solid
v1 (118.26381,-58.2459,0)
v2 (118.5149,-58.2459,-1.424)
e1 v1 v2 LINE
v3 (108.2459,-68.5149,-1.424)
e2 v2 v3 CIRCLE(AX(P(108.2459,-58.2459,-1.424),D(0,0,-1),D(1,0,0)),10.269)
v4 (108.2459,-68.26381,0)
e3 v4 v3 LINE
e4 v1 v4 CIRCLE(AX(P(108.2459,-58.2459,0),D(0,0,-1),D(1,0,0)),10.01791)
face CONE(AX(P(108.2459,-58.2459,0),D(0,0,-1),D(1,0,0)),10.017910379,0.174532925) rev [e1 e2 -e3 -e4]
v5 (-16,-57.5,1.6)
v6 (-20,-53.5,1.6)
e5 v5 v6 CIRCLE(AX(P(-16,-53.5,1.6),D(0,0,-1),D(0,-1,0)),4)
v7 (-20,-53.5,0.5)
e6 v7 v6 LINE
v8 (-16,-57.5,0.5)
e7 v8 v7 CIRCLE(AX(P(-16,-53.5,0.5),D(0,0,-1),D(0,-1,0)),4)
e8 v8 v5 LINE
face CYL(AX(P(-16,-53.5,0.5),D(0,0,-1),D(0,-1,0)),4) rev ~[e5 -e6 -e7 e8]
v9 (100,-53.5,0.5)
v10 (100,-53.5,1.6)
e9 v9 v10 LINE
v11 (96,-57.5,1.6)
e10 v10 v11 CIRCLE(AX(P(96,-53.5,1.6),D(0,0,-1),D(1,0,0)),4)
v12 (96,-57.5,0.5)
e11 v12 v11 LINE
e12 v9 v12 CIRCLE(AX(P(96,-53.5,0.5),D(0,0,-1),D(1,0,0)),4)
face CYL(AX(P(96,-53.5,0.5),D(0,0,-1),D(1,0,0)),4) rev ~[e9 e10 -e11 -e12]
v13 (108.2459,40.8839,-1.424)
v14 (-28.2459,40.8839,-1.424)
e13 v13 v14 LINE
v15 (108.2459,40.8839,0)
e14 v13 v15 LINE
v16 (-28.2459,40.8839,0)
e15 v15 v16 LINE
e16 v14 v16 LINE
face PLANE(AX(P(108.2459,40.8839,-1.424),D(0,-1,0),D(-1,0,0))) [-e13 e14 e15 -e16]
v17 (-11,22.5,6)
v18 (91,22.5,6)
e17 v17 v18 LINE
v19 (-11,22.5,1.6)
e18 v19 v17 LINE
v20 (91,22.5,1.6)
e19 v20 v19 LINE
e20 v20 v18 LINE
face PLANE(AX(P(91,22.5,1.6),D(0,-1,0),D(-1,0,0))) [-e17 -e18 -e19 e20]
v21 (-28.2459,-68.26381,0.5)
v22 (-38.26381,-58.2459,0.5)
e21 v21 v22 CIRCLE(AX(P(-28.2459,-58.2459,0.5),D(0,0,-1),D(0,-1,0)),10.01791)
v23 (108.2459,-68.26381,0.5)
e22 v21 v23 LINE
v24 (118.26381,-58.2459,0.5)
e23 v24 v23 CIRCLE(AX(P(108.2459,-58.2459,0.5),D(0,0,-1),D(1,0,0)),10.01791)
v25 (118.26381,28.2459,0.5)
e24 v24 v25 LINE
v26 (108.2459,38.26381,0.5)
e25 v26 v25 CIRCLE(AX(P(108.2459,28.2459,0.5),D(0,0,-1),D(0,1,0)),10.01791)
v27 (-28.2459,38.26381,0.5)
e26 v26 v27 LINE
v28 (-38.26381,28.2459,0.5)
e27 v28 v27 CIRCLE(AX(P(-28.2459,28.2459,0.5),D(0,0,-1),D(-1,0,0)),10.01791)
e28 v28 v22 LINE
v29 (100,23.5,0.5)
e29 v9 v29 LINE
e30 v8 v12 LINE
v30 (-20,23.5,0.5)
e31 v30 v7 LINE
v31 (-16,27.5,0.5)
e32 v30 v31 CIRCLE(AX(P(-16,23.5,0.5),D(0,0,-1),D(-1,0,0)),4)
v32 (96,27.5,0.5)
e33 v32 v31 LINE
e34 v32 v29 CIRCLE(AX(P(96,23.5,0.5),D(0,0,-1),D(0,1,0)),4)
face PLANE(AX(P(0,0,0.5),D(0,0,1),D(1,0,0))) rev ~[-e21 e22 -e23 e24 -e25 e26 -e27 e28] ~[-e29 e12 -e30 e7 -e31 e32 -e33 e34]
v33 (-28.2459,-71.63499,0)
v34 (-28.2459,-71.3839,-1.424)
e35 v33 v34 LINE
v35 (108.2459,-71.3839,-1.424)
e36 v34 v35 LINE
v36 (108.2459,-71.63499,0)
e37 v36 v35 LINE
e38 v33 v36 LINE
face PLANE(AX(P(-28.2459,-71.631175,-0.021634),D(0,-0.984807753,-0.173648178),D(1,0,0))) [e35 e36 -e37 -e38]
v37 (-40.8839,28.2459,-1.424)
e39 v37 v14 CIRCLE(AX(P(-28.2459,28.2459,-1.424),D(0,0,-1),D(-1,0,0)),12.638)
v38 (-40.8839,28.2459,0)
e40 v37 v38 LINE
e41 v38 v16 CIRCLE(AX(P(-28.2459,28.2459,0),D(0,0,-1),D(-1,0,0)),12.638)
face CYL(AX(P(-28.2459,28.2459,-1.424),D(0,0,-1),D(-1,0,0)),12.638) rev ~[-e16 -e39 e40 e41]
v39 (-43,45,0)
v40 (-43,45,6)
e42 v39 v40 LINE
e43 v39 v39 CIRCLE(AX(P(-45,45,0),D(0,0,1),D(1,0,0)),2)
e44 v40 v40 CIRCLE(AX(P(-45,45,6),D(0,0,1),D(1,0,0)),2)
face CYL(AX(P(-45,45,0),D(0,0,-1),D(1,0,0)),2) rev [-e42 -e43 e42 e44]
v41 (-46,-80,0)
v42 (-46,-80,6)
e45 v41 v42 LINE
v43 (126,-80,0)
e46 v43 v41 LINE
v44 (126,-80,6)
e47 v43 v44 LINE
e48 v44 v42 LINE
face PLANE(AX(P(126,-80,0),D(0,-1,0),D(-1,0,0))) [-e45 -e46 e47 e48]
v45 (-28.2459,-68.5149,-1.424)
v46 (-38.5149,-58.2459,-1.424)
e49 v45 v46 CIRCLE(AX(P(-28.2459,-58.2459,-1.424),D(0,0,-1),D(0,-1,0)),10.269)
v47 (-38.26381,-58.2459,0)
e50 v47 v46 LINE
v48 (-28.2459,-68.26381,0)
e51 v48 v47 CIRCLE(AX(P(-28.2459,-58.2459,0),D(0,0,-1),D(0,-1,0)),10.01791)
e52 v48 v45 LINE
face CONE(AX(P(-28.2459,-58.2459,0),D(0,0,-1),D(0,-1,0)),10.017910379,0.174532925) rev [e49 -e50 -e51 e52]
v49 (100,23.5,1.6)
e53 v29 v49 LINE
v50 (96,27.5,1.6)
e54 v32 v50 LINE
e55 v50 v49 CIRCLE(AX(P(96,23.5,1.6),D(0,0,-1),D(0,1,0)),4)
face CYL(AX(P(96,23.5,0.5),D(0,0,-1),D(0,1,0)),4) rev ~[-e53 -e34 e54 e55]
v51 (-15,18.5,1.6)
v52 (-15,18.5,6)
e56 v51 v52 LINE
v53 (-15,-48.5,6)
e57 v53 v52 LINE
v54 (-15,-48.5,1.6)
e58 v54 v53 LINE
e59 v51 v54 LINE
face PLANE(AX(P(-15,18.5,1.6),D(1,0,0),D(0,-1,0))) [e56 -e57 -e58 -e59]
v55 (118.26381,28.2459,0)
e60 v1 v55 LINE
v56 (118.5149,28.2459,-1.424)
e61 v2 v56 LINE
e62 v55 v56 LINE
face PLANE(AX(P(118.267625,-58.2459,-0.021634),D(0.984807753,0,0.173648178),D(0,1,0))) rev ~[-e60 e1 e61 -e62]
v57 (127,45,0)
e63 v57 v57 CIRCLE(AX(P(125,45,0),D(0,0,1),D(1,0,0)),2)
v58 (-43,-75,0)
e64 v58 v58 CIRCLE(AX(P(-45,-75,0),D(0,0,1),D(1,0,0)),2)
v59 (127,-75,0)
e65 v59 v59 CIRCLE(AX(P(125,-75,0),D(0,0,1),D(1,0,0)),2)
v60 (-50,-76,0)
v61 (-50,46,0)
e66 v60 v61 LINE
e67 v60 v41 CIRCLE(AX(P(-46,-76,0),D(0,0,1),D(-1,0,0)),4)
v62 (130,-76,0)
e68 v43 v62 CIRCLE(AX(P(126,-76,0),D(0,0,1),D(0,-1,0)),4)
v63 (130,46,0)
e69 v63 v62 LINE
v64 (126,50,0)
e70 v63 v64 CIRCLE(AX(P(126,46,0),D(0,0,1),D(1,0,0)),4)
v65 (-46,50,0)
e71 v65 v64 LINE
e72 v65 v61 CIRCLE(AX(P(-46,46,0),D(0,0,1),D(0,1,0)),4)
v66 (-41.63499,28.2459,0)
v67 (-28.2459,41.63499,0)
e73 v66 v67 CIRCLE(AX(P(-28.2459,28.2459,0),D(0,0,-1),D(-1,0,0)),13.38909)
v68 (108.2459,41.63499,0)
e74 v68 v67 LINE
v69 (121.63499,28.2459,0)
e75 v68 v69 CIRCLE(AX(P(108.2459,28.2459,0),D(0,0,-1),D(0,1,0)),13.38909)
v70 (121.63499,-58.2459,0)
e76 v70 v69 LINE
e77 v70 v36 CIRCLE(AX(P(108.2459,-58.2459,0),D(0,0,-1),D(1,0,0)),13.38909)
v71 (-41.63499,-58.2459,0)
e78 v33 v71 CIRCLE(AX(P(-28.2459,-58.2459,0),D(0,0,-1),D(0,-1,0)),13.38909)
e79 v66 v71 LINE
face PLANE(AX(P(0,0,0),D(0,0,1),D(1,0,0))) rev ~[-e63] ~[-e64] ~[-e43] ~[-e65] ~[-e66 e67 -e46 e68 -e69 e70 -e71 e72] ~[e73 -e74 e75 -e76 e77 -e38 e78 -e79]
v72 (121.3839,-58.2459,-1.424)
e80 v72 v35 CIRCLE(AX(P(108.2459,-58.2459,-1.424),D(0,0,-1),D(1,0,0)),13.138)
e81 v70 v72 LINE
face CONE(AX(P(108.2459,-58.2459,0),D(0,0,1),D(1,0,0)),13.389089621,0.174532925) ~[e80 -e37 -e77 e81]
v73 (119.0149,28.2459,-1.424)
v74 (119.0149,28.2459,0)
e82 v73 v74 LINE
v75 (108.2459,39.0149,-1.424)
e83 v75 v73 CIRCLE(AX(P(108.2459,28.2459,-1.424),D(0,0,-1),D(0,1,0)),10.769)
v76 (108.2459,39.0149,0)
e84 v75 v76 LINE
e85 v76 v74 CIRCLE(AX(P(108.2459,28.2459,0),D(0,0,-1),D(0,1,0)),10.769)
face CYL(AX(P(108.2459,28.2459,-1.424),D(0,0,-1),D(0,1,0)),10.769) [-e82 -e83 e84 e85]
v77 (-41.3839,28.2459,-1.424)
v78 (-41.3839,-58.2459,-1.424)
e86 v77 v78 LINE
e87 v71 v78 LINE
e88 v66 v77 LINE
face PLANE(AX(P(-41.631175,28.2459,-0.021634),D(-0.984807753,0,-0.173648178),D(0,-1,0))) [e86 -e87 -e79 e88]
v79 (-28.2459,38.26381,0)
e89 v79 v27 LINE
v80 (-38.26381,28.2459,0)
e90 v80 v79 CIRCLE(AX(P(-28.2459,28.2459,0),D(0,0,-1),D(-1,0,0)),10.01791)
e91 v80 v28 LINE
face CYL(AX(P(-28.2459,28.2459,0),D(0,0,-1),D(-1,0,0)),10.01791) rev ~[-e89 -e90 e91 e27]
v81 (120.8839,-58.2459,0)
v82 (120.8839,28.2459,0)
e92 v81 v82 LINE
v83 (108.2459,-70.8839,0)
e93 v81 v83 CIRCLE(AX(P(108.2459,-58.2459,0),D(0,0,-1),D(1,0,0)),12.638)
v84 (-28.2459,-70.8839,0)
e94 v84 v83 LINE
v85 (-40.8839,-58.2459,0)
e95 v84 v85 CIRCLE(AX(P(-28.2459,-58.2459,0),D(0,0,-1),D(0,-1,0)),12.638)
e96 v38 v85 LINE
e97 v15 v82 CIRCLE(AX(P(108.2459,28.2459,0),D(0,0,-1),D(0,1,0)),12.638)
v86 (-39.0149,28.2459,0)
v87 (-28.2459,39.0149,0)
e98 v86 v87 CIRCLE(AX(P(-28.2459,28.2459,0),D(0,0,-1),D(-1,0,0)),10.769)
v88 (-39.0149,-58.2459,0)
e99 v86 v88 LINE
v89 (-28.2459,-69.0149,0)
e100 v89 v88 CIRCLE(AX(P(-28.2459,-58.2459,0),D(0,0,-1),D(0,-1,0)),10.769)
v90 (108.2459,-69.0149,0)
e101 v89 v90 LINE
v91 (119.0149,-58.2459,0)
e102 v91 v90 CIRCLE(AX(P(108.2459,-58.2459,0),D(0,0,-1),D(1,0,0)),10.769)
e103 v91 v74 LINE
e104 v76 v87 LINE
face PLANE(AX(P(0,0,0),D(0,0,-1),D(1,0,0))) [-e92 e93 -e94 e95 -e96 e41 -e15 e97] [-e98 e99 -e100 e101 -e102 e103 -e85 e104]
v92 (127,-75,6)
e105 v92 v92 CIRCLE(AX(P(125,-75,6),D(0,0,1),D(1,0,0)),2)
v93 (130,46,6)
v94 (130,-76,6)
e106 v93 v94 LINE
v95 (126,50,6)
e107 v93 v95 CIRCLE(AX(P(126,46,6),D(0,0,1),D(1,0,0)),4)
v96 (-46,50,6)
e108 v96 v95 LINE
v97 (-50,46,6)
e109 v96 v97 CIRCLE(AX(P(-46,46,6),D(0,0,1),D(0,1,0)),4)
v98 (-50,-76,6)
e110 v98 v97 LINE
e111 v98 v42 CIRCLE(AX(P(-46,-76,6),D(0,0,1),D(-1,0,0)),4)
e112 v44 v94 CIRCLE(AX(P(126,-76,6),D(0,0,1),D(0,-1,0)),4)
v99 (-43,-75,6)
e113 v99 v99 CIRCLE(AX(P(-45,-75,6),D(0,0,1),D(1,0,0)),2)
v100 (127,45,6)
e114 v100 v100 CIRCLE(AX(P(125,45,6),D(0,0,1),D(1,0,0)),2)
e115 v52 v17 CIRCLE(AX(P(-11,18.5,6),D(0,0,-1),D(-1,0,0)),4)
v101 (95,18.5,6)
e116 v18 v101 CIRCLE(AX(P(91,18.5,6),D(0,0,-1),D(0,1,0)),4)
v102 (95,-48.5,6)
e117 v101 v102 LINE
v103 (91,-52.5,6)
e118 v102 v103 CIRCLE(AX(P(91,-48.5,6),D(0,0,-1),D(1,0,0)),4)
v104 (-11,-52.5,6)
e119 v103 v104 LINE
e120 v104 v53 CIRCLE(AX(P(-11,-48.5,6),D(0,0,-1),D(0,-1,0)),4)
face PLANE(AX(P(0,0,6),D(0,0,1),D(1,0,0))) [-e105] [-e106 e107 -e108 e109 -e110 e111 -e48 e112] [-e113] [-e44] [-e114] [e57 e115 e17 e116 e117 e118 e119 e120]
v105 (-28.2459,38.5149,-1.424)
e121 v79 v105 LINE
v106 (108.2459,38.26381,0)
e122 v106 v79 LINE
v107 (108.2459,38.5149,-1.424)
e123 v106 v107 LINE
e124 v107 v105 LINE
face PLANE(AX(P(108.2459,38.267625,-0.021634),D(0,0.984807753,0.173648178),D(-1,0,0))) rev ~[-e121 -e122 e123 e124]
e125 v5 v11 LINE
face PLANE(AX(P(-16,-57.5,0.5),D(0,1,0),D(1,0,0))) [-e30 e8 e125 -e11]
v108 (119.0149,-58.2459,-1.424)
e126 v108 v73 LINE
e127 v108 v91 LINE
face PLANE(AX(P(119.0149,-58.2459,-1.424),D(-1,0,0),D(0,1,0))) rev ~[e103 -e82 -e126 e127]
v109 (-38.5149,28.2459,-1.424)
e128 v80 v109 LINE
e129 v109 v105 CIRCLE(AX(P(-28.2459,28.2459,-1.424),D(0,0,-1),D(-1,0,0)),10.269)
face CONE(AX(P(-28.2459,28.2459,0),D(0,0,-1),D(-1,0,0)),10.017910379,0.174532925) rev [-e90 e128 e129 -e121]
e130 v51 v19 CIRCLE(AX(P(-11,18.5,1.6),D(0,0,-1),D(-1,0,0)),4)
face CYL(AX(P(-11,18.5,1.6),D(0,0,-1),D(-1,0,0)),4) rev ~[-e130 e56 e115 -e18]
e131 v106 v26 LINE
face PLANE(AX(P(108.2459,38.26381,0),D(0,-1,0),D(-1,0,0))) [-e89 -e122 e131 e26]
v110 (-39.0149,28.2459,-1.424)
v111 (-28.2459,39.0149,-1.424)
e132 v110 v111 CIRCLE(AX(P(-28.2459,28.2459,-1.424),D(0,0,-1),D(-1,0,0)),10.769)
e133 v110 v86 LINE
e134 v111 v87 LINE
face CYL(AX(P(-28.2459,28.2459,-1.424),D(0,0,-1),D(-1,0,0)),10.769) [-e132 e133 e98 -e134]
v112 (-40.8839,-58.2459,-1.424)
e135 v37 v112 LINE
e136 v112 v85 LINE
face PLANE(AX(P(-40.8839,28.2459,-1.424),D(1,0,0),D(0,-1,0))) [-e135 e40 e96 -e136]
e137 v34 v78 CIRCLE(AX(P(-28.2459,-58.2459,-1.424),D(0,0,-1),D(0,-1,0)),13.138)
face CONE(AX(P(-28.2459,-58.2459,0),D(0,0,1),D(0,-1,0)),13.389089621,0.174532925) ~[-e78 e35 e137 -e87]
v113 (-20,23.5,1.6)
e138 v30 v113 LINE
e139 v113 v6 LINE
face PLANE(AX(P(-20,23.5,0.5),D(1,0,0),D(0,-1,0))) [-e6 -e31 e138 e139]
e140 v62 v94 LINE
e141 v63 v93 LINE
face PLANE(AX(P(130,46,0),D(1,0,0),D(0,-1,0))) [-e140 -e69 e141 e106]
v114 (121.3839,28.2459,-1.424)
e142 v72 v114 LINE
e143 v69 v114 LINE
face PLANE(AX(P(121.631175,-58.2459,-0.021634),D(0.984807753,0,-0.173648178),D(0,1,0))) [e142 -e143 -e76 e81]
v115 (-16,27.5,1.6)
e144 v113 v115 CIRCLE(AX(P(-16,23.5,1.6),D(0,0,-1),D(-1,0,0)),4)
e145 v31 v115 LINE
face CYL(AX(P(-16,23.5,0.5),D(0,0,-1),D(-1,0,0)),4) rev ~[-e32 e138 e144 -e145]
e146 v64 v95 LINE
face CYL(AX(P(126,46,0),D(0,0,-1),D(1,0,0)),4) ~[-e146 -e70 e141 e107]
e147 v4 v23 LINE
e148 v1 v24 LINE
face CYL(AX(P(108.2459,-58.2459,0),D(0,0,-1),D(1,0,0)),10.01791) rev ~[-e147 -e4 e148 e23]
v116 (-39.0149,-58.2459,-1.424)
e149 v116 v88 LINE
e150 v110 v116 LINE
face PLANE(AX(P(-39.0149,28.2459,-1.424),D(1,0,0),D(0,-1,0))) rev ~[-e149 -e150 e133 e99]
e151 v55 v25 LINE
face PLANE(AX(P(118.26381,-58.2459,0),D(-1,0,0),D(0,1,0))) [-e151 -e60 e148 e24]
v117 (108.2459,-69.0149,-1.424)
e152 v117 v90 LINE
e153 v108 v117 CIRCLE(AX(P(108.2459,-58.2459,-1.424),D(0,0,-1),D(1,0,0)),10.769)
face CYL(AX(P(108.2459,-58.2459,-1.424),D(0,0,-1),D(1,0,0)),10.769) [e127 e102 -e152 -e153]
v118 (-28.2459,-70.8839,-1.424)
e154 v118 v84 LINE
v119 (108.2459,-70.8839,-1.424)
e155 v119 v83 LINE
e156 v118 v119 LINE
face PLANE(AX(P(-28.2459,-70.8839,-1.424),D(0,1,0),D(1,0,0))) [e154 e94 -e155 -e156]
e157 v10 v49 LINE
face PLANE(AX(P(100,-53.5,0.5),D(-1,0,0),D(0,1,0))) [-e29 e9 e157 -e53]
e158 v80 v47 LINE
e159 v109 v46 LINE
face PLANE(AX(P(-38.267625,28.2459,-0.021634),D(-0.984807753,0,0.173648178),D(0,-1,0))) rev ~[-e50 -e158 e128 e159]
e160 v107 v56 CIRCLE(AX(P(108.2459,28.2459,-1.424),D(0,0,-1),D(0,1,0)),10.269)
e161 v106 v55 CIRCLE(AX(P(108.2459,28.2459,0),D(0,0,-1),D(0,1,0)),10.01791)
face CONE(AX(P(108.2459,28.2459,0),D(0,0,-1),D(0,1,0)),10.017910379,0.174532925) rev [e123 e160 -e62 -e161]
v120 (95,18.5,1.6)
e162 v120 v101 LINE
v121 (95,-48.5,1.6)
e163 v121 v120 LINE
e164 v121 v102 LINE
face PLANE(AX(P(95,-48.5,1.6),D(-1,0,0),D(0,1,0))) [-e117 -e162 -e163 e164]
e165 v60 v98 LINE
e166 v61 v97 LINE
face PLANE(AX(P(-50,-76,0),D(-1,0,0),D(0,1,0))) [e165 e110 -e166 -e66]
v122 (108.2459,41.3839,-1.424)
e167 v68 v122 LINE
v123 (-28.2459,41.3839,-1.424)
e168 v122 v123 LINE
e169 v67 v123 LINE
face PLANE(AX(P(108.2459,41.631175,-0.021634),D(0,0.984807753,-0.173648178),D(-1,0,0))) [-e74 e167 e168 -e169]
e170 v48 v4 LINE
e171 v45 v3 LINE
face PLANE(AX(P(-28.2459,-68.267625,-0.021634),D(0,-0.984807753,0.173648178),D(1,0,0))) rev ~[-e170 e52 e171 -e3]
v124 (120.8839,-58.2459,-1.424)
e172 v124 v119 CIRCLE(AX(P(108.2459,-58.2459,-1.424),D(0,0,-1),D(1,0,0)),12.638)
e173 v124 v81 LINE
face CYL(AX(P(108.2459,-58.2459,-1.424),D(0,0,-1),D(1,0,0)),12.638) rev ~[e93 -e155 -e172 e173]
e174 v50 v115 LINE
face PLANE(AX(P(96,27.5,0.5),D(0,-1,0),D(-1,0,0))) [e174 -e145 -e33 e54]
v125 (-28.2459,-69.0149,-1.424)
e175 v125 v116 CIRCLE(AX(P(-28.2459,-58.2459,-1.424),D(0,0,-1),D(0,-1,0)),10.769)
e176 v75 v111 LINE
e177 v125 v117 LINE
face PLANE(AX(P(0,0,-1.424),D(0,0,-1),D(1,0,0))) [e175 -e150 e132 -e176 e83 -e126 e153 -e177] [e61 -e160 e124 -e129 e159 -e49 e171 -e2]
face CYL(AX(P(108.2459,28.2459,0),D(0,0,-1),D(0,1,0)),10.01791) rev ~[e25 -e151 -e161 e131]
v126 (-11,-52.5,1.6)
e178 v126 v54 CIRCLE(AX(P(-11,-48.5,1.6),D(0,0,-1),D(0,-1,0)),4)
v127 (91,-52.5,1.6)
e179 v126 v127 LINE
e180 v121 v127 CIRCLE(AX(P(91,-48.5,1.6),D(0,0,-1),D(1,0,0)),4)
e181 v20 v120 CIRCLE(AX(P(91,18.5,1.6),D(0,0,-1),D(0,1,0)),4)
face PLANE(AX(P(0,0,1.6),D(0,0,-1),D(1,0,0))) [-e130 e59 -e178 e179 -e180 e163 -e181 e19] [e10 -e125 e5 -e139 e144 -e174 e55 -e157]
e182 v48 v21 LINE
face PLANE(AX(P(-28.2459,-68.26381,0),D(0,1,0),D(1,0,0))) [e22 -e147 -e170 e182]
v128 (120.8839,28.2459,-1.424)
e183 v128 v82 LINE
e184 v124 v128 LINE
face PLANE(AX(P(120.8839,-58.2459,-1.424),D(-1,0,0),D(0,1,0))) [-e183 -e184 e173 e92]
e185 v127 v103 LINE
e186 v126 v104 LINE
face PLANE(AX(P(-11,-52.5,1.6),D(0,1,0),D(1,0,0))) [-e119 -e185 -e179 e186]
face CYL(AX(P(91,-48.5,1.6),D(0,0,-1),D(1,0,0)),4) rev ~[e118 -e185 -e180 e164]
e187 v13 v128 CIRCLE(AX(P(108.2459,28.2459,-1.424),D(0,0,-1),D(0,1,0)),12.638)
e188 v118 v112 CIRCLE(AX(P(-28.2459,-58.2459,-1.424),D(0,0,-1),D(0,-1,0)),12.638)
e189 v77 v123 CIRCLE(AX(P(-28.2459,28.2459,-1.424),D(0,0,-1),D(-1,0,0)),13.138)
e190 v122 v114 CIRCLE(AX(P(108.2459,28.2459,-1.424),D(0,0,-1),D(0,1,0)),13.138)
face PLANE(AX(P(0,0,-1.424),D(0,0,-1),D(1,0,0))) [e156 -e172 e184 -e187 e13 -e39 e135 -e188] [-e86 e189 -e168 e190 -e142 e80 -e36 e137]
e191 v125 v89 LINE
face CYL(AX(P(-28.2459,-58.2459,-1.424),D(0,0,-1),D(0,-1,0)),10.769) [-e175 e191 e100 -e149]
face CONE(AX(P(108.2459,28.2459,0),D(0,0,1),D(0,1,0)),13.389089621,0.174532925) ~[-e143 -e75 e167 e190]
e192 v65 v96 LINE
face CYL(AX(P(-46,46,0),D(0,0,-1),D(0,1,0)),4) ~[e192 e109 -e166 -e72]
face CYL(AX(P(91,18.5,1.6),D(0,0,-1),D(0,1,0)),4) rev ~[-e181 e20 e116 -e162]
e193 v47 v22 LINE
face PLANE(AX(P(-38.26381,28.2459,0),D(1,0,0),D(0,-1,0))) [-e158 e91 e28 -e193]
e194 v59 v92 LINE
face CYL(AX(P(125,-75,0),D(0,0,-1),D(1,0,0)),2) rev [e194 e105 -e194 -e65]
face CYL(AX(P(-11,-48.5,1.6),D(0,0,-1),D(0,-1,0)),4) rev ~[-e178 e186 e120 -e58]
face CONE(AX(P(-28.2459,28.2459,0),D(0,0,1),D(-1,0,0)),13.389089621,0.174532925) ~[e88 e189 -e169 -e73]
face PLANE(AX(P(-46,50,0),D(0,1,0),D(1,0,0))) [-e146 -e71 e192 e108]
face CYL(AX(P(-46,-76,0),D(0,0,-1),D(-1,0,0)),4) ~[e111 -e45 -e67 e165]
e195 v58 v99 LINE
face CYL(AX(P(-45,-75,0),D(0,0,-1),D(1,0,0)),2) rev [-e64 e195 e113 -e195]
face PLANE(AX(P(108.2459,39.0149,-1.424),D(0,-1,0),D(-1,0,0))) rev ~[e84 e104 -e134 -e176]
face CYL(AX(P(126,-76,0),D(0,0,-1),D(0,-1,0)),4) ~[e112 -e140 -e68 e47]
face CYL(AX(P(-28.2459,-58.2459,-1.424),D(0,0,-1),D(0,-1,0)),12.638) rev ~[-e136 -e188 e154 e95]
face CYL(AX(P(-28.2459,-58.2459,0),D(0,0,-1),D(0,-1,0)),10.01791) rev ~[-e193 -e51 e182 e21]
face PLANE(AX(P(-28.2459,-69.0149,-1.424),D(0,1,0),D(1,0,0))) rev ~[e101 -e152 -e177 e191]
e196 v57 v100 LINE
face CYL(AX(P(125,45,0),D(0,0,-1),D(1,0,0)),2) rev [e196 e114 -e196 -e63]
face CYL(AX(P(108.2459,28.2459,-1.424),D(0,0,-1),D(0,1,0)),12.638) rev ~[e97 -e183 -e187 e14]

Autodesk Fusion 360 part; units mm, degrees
sketch "Sketch2" plane through (0, 0, 0) normal (0, 0, 1) x (1, 0, 0)
  line L0 (-46, 50) -> (126, 50)
  line L1 (130, 46) -> (130, -76)
  line L2 (126, -80) -> (-46, -80)
  line L3 (-50, -76) -> (-50, 46)
  circle A0 centre (-45, 45) radius 2
  line L4 (40, -80) -> (40, 50) construction
  line L5 (-50, -15) -> (130, -15) construction
  arc A1 (-46, 50) -> (-50, 46) centre (-46, 46) ccw
  circle A2 centre (125, 45) radius 2
  arc A3 (130, 46) -> (126, 50) centre (126, 46) ccw
  circle A4 centre (125, -75) radius 2
  arc A5 (126, -80) -> (130, -76) centre (126, -76) ccw
  circle A6 centre (-45, -75) radius 2
  arc A7 (-50, -76) -> (-46, -80) centre (-46, -76) ccw
  point P0 (-50, 50)
  point P1 (130, 50)
  dimension "d3" = 4
  dimension "d4" = 5
  dimension "d5" = 5
  dimension "d6" = 4
  dimension "d63" = 180
  dimension "d64" = 130
extrude "Extrude1" add sketch "Sketch2" along normal blind 6
sketch "Sketch3" plane through (0, 0, 0) normal (0, 0, -1) x (1, 0, 0)
  circle A0 centre (125, 75) radius 2
  circle A1 centre (-45, 75) radius 2
  circle A2 centre (-45, -45) radius 2
  circle A3 centre (125, -45) radius 2
  arc A4 (-50, -46) -> (-46, -50) centre (-46, -46) ccw
  line L0 (-46, -50) -> (126, -50)
  arc A5 (126, -50) -> (130, -46) centre (126, -46) ccw
  line L1 (130, -46) -> (130, 76)
  arc A6 (130, 76) -> (126, 80) centre (126, 76) ccw
  line L2 (126, 80) -> (-46, 80)
  arc A7 (-46, 80) -> (-50, 76) centre (-46, 76) ccw
  line L3 (-50, 76) -> (-50, -46)
  line L4 (40, 80) -> (40, -50) construction
  line L5 (130, 15) -> (-50, 15) construction
  line L6 (119.9494, -39.9494) -> (-39.9494, -39.9494) construction
  line L7 (-39.9494, -39.9494) -> (-39.9494, 69.9494) construction
  line L8 (-39.9494, 69.9494) -> (119.9494, 69.9494) construction
  line L9 (119.9494, 69.9494) -> (119.9494, -39.9494) construction
  line L10 (119.9494, -39.9494) -> (-39.9494, 69.9494) construction
  line L11 (-39.9494, -39.9494) -> (119.9494, 69.9494) construction
  line L12 (108.2459, -41.3839) -> (-28.2459, -41.3839)
  line L13 (-41.3839, -28.2459) -> (-41.3839, 58.2459)
  line L14 (-28.2459, 71.3839) -> (108.2459, 71.3839)
  line L15 (121.3839, 58.2459) -> (121.3839, -28.2459)
  line L16 (95.6336, -23.5438) -> (-41.3839, 71.3839) construction
  line L17 (-38.6963, -33.1786) -> (83.6146, 41.7012) construction
  line L18 (-38.5149, -28.2459) -> (-38.5149, 58.2459)
  line L19 (-28.2459, 68.5149) -> (108.2459, 68.5149)
  line L20 (118.5149, 58.2459) -> (118.5149, -28.2459)
  line L21 (104.513, -28.9713) -> (-38.5149, 68.5149) construction
  line L22 (-36.0332, -30.305) -> (80.8211, 39.3236) construction
  arc A8 (-28.2459, 68.5149) -> (-38.5149, 58.2459) centre (-28.2459, 58.2459) ccw
  arc A9 (-28.2459, 71.3839) -> (-41.3839, 58.2459) centre (-28.2459, 58.2459) ccw
  arc A10 (118.5149, 58.2459) -> (108.2459, 68.5149) centre (108.2459, 58.2459) ccw
  arc A11 (121.3839, 58.2459) -> (108.2459, 71.3839) centre (108.2459, 58.2459) ccw
  arc A12 (-38.5149, -28.2459) -> (-28.2459, -38.5149) centre (-28.2459, -28.2459) ccw
  arc A13 (-41.3839, -28.2459) -> (-28.2459, -41.3839) centre (-28.2459, -28.2459) ccw
  arc A14 (108.2459, -38.5149) -> (118.5149, -28.2459) centre (108.2459, -28.2459) ccw
  arc A15 (108.2459, -41.3839) -> (121.3839, -28.2459) centre (108.2459, -28.2459) ccw
  line L23 (108.2459, -38.5149) -> (-28.2459, -38.5149)
  point P0 (40, 15)
  point P1 (40, 15)
  point P2 (40, 15)
  point P3 (40, 15)
  point P4 (40, 15)
  dimension "d25" = 159.8988
  dimension "d27" = 109.8988
  dimension "d28" = 1.4345
  dimension "d29" = 1.4345
  dimension "d30" = 1.4345
  dimension "d31" = 1.4345
  dimension "d44" = 10.269
  dimension "d45" = 13.138
extrude "Extrude4" add sketch "Sketch3" along normal blind 1.424 contours L12 L13 L14 L15 A9 A11 A13 A15
draft "Draft3" angle 10 neutral plane through (0, 0, -1.424) pull (0, 0, -1) 16 faces at (62.7486, -68.5149, -0.9493) (117.7793, -62.0625, -0.9493) (118.5149, -29.4153, -0.4747) (115.6779, 35.3323, -0.9493) (62.7486, 38.5149, -0.4747) (-32.9514, 37.3734, -0.9493) (-38.5149, -29.4153, -0.9493) (-35.6779, -65.3323, -0.9493) (-41.3839, -0.5847, -0.4747) (-33.1288, 40.4428, -0.9493) (17.2514, 41.3839, -0.9493) (116.3673, 38.5731, -0.9493) (121.3839, -29.4153, -0.9493) (119.6238, -64.8149, -0.9493) (62.7486, -71.3839, -0.9493) (-38.9478, -65.8667, -0.9493)
sketch "Sketch5" plane through (0, 0, -1.424) normal (0, 0, -1) x (1, 0, 0)
  line L0 (-28.2459, 68.5149) -> (108.2459, 68.5149)
  line L1 (118.5149, 58.2459) -> (118.5149, -28.2459)
  line L2 (108.2459, -38.5149) -> (-28.2459, -38.5149)
  line L3 (-38.5149, -28.2459) -> (-38.5149, 58.2459)
  line L4 (108.2459, 71.3839) -> (-28.2459, 71.3839)
  line L5 (-41.3839, 58.2459) -> (-41.3839, -28.2459)
  line L6 (-28.2459, -41.3839) -> (108.2459, -41.3839)
  line L7 (121.3839, -28.2459) -> (121.3839, 58.2459)
  line L8 (40, 71.3839) -> (40, -41.3839) construction
  line L9 (121.3839, 15) -> (-41.3839, 15) construction
  line L10 (119.9494, -39.9494) -> (-39.9494, -39.9494) construction
  line L11 (-39.9494, -39.9494) -> (-39.9494, 69.9494) construction
  line L12 (-39.9494, 69.9494) -> (119.9494, 69.9494) construction
  line L13 (119.9494, 69.9494) -> (119.9494, -39.9494) construction
  line L14 (119.9494, -39.9494) -> (-39.9494, 69.9494) construction
  line L15 (-39.9494, -39.9494) -> (119.9494, 69.9494) construction
  line L16 (108.2459, -40.8839) -> (-28.2459, -40.8839)
  line L17 (-40.8839, -28.2459) -> (-40.8839, 58.2459)
  line L18 (-28.2459, 70.8839) -> (108.2459, 70.8839)
  line L19 (120.8839, 58.2459) -> (120.8839, -28.2459)
  line L20 (98.0985, -25.1411) -> (-40.8839, 70.8839) construction
  line L21 (-40.8839, -40.8839) -> (98.0985, 55.1411) construction
  line L22 (108.2459, -39.0149) -> (-28.2459, -39.0149)
  line L23 (-39.0149, -28.2459) -> (-39.0149, 58.2459)
  line L24 (119.0149, 58.2459) -> (119.0149, -28.2459)
  line L25 (97.1479, -24.0666) -> (-39.0149, 69.0149) construction
  line L26 (-39.0149, -39.0149) -> (97.1479, 54.0666) construction
  arc A0 (118.5149, 58.2459) -> (108.2459, 68.5149) centre (108.2459, 58.2459) ccw
  arc A1 (108.2459, -38.5149) -> (118.5149, -28.2459) centre (108.2459, -28.2459) ccw
  arc A2 (-38.5149, -28.2459) -> (-28.2459, -38.5149) centre (-28.2459, -28.2459) ccw
  arc A3 (-28.2459, 68.5149) -> (-38.5149, 58.2459) centre (-28.2459, 58.2459) ccw
  arc A4 (-41.3839, -28.2459) -> (-28.2459, -41.3839) centre (-28.2459, -28.2459) ccw
  arc A5 (108.2459, -41.3839) -> (121.3839, -28.2459) centre (108.2459, -28.2459) ccw
  arc A6 (121.3839, 58.2459) -> (108.2459, 71.3839) centre (108.2459, 58.2459) ccw
  arc A7 (-28.2459, 71.3839) -> (-41.3839, 58.2459) centre (-28.2459, 58.2459) ccw
  arc A8 (-28.2459, 69.0149) -> (-39.0149, 58.2459) centre (-28.2459, 58.2459) ccw
  arc A9 (-28.2459, 70.8839) -> (-40.8839, 58.2459) centre (-28.2459, 58.2459) ccw
  arc A10 (119.0149, 58.2459) -> (108.2459, 69.0149) centre (108.2459, 58.2459) ccw
  arc A11 (120.8839, 58.2459) -> (108.2459, 70.8839) centre (108.2459, 58.2459) ccw
  line L27 (-28.2459, 69.0149) -> (108.2459, 69.0149)
  arc A12 (108.2459, -39.0149) -> (119.0149, -28.2459) centre (108.2459, -28.2459) ccw
  arc A13 (108.2459, -40.8839) -> (120.8839, -28.2459) centre (108.2459, -28.2459) ccw
  arc A14 (-39.0149, -28.2459) -> (-28.2459, -39.0149) centre (-28.2459, -28.2459) ccw
  arc A15 (-40.8839, -28.2459) -> (-28.2459, -40.8839) centre (-28.2459, -28.2459) ccw
  point P0 (40, 15)
  point P1 (40, 15)
  point P2 (40, 15)
  dimension "d36" = 159.8988
  dimension "d37" = 109.8988
  dimension "d38" = 0.9345
  dimension "d39" = 0.9345
  dimension "d40" = 0.9345
  dimension "d41" = 0.9345
  dimension "d50" = 10.769
  dimension "d51" = 12.638
extrude "Extrude6" cut sketch "Sketch5" against normal blind 1.424 contours L16 L17 L18 L19 A9 A11 A13 A15
extrude "Extrude7" cut 1 faces at (17.2514, 2.7546, 0) along direction (0, 0, 1) blind 0.5
sketch "Sketch6" plane through (0, 0, 0.5) normal (0, 0, -1) x (1, 0, 0)
  line L0 (108.2459, 68.2638) -> (-28.2459, 68.2638)
  arc A0 (-28.2459, 68.2638) -> (-38.2638, 58.2459) centre (-28.2459, 58.2459) ccw
  line L1 (-38.2638, 58.2459) -> (-38.2638, -28.2459)
  arc A1 (-38.2638, -28.2459) -> (-28.2459, -38.2638) centre (-28.2459, -28.2459) ccw
  line L2 (-28.2459, -38.2638) -> (108.2459, -38.2638)
  arc A2 (108.2459, -38.2638) -> (118.2638, -28.2459) centre (108.2459, -28.2459) ccw
  line L3 (118.2638, -28.2459) -> (118.2638, 58.2459)
  arc A3 (118.2638, 58.2459) -> (108.2459, 68.2638) centre (108.2459, 58.2459) ccw
  line L4 (40, 68.2638) -> (40, -38.2638) construction
  line L5 (-38.2638, 15) -> (118.2638, 15) construction
  line L6 (96, -27.5) -> (-16, -27.5)
  line L7 (-20, -23.5) -> (-20, 53.5)
  line L8 (-16, 57.5) -> (96, 57.5)
  line L9 (100, 53.5) -> (100, -23.5)
  line L10 (100, -27.5) -> (-20, 57.5) construction
  line L11 (-20, -27.5) -> (100, 57.5) construction
  arc A4 (-16, 57.5) -> (-20, 53.5) centre (-16, 53.5) ccw
  arc A5 (100, 53.5) -> (96, 57.5) centre (96, 53.5) ccw
  arc A6 (96, -27.5) -> (100, -23.5) centre (96, -23.5) ccw
  arc A7 (-20, -23.5) -> (-16, -27.5) centre (-16, -23.5) ccw
  point P0 (40, 15)
  dimension "d58" = 120
  dimension "d59" = 85
  dimension "d68" = 4
  dimension "d69" = 4
  dimension "d70" = 4
  dimension "d71" = 4
extrude "Extrude8" cut sketch "Sketch6" against normal blind 1.1 contours L6 L7 L8 L9 A4 A5 A6 A7
sketch "Sketch7" plane through (0, 0, 1.6) normal (0, 0, -1) x (1, 0, 0)
  line L0 (96, 57.5) -> (-16, 57.5)
  line L1 (-20, 53.5) -> (-20, -23.5)
  line L2 (-16, -27.5) -> (96, -27.5)
  line L3 (100, -23.5) -> (100, 53.5)
  line L4 (40, 57.5) -> (40, -27.5) construction
  line L5 (100, 15) -> (-20, 15) construction
  line L6 (91, -22.5) -> (-11, -22.5)
  line L7 (-15, -18.5) -> (-15, 48.5)
  line L8 (-11, 52.5) -> (91, 52.5)
  line L9 (95, 48.5) -> (95, -18.5)
  line L10 (95, -22.5) -> (-15, 52.5) construction
  line L11 (-15, -22.5) -> (95, 52.5) construction
  arc A0 (-16, 57.5) -> (-20, 53.5) centre (-16, 53.5) ccw
  arc A1 (-20, -23.5) -> (-16, -27.5) centre (-16, -23.5) ccw
  arc A2 (96, -27.5) -> (100, -23.5) centre (96, -23.5) ccw
  arc A3 (100, 53.5) -> (96, 57.5) centre (96, 53.5) ccw
  arc A4 (-11, 52.5) -> (-15, 48.5) centre (-11, 48.5) ccw
  arc A5 (95, 48.5) -> (91, 52.5) centre (91, 48.5) ccw
  arc A6 (91, -22.5) -> (95, -18.5) centre (91, -18.5) ccw
  arc A7 (-15, -18.5) -> (-11, -22.5) centre (-11, -18.5) ccw
  point P0 (40, 15)
  dimension "d62" = 110
  dimension "d65" = 75
  dimension "d72" = 4
  dimension "d73" = 4
  dimension "d74" = 4
  dimension "d75" = 4
extrude "Extrude9" cut sketch "Sketch7" against normal blind 8.4 contours L6 L7 L8 L9 A4 A5 A6 A7
equation "ORingDiameter = 1.78 mm" comment "Diamter of the O ring"
equation "ORingInnerDiameter = 170 mm" comment "Inner diamter of the o ring bore"
equation "d25 = ( ORingPerimeter - 100 mm ) / 4 + 50 mm"
equation "ORingPerimeter = 2 * 3.1412 * ( ( ORingInnerDiameter / 2 ) + ORingDiameter / 2 )"
equation "d27 = ( ORingPerimeter - 100 mm ) / 4"
equation "d28 = ( ( ORingDiameter * 1.05 ) / 2 ) + 0.5 mm"
equation "d29 = ( ( ORingDiameter * 1.05 ) / 2 ) + 0.5 mm"
equation "d30 = ( ( ORingDiameter * 1.05 ) / 2 ) + 0.5 mm"
equation "d31 = ( ( ORingDiameter * 1.05 ) / 2 ) + 0.5 mm"
equation "d32 = ORingDiameter * 0.8"
equation "d36 = ( ORingPerimeter - 100 mm ) / 4 + 50 mm"
equation "d37 = ( ORingPerimeter - 100 mm ) / 4"
equation "d38 = ( ORingDiameter * 1.05 ) / 2"
equation "d39 = ( ORingDiameter * 1.05 ) / 2"
equation "d40 = ( ORingDiameter * 1.05 ) / 2"
equation "d41 = ( ORingDiameter * 1.05 ) / 2"
equation "d44 = ( ORingDiameter ) * 6 + ORingDiameter * 0.05 - 0.5 mm"
equation "d45 = ( ORingDiameter ) * 6 + ( ORingDiameter * 1.1 ) + 0.5 mm"
equation "d50 = ( ORingDiameter ) * 6 + ORingDiameter * 0.05 - 0.0 mm"
equation "d51 = ( ORingDiameter ) * 6 + ORingDiameter * 1.1 + 0 mm"
equation "d52 = -( ORingDiameter * 0.8 )"
equation "PanelWidth = 85 mm"
equation "PanelLength = 120 mm"
equation "d58 = PanelLength"
equation "d59 = PanelWidth"
equation "d62 = PanelLength - 10 mm"
equation "d65 = PanelWidth - 10 mm"
